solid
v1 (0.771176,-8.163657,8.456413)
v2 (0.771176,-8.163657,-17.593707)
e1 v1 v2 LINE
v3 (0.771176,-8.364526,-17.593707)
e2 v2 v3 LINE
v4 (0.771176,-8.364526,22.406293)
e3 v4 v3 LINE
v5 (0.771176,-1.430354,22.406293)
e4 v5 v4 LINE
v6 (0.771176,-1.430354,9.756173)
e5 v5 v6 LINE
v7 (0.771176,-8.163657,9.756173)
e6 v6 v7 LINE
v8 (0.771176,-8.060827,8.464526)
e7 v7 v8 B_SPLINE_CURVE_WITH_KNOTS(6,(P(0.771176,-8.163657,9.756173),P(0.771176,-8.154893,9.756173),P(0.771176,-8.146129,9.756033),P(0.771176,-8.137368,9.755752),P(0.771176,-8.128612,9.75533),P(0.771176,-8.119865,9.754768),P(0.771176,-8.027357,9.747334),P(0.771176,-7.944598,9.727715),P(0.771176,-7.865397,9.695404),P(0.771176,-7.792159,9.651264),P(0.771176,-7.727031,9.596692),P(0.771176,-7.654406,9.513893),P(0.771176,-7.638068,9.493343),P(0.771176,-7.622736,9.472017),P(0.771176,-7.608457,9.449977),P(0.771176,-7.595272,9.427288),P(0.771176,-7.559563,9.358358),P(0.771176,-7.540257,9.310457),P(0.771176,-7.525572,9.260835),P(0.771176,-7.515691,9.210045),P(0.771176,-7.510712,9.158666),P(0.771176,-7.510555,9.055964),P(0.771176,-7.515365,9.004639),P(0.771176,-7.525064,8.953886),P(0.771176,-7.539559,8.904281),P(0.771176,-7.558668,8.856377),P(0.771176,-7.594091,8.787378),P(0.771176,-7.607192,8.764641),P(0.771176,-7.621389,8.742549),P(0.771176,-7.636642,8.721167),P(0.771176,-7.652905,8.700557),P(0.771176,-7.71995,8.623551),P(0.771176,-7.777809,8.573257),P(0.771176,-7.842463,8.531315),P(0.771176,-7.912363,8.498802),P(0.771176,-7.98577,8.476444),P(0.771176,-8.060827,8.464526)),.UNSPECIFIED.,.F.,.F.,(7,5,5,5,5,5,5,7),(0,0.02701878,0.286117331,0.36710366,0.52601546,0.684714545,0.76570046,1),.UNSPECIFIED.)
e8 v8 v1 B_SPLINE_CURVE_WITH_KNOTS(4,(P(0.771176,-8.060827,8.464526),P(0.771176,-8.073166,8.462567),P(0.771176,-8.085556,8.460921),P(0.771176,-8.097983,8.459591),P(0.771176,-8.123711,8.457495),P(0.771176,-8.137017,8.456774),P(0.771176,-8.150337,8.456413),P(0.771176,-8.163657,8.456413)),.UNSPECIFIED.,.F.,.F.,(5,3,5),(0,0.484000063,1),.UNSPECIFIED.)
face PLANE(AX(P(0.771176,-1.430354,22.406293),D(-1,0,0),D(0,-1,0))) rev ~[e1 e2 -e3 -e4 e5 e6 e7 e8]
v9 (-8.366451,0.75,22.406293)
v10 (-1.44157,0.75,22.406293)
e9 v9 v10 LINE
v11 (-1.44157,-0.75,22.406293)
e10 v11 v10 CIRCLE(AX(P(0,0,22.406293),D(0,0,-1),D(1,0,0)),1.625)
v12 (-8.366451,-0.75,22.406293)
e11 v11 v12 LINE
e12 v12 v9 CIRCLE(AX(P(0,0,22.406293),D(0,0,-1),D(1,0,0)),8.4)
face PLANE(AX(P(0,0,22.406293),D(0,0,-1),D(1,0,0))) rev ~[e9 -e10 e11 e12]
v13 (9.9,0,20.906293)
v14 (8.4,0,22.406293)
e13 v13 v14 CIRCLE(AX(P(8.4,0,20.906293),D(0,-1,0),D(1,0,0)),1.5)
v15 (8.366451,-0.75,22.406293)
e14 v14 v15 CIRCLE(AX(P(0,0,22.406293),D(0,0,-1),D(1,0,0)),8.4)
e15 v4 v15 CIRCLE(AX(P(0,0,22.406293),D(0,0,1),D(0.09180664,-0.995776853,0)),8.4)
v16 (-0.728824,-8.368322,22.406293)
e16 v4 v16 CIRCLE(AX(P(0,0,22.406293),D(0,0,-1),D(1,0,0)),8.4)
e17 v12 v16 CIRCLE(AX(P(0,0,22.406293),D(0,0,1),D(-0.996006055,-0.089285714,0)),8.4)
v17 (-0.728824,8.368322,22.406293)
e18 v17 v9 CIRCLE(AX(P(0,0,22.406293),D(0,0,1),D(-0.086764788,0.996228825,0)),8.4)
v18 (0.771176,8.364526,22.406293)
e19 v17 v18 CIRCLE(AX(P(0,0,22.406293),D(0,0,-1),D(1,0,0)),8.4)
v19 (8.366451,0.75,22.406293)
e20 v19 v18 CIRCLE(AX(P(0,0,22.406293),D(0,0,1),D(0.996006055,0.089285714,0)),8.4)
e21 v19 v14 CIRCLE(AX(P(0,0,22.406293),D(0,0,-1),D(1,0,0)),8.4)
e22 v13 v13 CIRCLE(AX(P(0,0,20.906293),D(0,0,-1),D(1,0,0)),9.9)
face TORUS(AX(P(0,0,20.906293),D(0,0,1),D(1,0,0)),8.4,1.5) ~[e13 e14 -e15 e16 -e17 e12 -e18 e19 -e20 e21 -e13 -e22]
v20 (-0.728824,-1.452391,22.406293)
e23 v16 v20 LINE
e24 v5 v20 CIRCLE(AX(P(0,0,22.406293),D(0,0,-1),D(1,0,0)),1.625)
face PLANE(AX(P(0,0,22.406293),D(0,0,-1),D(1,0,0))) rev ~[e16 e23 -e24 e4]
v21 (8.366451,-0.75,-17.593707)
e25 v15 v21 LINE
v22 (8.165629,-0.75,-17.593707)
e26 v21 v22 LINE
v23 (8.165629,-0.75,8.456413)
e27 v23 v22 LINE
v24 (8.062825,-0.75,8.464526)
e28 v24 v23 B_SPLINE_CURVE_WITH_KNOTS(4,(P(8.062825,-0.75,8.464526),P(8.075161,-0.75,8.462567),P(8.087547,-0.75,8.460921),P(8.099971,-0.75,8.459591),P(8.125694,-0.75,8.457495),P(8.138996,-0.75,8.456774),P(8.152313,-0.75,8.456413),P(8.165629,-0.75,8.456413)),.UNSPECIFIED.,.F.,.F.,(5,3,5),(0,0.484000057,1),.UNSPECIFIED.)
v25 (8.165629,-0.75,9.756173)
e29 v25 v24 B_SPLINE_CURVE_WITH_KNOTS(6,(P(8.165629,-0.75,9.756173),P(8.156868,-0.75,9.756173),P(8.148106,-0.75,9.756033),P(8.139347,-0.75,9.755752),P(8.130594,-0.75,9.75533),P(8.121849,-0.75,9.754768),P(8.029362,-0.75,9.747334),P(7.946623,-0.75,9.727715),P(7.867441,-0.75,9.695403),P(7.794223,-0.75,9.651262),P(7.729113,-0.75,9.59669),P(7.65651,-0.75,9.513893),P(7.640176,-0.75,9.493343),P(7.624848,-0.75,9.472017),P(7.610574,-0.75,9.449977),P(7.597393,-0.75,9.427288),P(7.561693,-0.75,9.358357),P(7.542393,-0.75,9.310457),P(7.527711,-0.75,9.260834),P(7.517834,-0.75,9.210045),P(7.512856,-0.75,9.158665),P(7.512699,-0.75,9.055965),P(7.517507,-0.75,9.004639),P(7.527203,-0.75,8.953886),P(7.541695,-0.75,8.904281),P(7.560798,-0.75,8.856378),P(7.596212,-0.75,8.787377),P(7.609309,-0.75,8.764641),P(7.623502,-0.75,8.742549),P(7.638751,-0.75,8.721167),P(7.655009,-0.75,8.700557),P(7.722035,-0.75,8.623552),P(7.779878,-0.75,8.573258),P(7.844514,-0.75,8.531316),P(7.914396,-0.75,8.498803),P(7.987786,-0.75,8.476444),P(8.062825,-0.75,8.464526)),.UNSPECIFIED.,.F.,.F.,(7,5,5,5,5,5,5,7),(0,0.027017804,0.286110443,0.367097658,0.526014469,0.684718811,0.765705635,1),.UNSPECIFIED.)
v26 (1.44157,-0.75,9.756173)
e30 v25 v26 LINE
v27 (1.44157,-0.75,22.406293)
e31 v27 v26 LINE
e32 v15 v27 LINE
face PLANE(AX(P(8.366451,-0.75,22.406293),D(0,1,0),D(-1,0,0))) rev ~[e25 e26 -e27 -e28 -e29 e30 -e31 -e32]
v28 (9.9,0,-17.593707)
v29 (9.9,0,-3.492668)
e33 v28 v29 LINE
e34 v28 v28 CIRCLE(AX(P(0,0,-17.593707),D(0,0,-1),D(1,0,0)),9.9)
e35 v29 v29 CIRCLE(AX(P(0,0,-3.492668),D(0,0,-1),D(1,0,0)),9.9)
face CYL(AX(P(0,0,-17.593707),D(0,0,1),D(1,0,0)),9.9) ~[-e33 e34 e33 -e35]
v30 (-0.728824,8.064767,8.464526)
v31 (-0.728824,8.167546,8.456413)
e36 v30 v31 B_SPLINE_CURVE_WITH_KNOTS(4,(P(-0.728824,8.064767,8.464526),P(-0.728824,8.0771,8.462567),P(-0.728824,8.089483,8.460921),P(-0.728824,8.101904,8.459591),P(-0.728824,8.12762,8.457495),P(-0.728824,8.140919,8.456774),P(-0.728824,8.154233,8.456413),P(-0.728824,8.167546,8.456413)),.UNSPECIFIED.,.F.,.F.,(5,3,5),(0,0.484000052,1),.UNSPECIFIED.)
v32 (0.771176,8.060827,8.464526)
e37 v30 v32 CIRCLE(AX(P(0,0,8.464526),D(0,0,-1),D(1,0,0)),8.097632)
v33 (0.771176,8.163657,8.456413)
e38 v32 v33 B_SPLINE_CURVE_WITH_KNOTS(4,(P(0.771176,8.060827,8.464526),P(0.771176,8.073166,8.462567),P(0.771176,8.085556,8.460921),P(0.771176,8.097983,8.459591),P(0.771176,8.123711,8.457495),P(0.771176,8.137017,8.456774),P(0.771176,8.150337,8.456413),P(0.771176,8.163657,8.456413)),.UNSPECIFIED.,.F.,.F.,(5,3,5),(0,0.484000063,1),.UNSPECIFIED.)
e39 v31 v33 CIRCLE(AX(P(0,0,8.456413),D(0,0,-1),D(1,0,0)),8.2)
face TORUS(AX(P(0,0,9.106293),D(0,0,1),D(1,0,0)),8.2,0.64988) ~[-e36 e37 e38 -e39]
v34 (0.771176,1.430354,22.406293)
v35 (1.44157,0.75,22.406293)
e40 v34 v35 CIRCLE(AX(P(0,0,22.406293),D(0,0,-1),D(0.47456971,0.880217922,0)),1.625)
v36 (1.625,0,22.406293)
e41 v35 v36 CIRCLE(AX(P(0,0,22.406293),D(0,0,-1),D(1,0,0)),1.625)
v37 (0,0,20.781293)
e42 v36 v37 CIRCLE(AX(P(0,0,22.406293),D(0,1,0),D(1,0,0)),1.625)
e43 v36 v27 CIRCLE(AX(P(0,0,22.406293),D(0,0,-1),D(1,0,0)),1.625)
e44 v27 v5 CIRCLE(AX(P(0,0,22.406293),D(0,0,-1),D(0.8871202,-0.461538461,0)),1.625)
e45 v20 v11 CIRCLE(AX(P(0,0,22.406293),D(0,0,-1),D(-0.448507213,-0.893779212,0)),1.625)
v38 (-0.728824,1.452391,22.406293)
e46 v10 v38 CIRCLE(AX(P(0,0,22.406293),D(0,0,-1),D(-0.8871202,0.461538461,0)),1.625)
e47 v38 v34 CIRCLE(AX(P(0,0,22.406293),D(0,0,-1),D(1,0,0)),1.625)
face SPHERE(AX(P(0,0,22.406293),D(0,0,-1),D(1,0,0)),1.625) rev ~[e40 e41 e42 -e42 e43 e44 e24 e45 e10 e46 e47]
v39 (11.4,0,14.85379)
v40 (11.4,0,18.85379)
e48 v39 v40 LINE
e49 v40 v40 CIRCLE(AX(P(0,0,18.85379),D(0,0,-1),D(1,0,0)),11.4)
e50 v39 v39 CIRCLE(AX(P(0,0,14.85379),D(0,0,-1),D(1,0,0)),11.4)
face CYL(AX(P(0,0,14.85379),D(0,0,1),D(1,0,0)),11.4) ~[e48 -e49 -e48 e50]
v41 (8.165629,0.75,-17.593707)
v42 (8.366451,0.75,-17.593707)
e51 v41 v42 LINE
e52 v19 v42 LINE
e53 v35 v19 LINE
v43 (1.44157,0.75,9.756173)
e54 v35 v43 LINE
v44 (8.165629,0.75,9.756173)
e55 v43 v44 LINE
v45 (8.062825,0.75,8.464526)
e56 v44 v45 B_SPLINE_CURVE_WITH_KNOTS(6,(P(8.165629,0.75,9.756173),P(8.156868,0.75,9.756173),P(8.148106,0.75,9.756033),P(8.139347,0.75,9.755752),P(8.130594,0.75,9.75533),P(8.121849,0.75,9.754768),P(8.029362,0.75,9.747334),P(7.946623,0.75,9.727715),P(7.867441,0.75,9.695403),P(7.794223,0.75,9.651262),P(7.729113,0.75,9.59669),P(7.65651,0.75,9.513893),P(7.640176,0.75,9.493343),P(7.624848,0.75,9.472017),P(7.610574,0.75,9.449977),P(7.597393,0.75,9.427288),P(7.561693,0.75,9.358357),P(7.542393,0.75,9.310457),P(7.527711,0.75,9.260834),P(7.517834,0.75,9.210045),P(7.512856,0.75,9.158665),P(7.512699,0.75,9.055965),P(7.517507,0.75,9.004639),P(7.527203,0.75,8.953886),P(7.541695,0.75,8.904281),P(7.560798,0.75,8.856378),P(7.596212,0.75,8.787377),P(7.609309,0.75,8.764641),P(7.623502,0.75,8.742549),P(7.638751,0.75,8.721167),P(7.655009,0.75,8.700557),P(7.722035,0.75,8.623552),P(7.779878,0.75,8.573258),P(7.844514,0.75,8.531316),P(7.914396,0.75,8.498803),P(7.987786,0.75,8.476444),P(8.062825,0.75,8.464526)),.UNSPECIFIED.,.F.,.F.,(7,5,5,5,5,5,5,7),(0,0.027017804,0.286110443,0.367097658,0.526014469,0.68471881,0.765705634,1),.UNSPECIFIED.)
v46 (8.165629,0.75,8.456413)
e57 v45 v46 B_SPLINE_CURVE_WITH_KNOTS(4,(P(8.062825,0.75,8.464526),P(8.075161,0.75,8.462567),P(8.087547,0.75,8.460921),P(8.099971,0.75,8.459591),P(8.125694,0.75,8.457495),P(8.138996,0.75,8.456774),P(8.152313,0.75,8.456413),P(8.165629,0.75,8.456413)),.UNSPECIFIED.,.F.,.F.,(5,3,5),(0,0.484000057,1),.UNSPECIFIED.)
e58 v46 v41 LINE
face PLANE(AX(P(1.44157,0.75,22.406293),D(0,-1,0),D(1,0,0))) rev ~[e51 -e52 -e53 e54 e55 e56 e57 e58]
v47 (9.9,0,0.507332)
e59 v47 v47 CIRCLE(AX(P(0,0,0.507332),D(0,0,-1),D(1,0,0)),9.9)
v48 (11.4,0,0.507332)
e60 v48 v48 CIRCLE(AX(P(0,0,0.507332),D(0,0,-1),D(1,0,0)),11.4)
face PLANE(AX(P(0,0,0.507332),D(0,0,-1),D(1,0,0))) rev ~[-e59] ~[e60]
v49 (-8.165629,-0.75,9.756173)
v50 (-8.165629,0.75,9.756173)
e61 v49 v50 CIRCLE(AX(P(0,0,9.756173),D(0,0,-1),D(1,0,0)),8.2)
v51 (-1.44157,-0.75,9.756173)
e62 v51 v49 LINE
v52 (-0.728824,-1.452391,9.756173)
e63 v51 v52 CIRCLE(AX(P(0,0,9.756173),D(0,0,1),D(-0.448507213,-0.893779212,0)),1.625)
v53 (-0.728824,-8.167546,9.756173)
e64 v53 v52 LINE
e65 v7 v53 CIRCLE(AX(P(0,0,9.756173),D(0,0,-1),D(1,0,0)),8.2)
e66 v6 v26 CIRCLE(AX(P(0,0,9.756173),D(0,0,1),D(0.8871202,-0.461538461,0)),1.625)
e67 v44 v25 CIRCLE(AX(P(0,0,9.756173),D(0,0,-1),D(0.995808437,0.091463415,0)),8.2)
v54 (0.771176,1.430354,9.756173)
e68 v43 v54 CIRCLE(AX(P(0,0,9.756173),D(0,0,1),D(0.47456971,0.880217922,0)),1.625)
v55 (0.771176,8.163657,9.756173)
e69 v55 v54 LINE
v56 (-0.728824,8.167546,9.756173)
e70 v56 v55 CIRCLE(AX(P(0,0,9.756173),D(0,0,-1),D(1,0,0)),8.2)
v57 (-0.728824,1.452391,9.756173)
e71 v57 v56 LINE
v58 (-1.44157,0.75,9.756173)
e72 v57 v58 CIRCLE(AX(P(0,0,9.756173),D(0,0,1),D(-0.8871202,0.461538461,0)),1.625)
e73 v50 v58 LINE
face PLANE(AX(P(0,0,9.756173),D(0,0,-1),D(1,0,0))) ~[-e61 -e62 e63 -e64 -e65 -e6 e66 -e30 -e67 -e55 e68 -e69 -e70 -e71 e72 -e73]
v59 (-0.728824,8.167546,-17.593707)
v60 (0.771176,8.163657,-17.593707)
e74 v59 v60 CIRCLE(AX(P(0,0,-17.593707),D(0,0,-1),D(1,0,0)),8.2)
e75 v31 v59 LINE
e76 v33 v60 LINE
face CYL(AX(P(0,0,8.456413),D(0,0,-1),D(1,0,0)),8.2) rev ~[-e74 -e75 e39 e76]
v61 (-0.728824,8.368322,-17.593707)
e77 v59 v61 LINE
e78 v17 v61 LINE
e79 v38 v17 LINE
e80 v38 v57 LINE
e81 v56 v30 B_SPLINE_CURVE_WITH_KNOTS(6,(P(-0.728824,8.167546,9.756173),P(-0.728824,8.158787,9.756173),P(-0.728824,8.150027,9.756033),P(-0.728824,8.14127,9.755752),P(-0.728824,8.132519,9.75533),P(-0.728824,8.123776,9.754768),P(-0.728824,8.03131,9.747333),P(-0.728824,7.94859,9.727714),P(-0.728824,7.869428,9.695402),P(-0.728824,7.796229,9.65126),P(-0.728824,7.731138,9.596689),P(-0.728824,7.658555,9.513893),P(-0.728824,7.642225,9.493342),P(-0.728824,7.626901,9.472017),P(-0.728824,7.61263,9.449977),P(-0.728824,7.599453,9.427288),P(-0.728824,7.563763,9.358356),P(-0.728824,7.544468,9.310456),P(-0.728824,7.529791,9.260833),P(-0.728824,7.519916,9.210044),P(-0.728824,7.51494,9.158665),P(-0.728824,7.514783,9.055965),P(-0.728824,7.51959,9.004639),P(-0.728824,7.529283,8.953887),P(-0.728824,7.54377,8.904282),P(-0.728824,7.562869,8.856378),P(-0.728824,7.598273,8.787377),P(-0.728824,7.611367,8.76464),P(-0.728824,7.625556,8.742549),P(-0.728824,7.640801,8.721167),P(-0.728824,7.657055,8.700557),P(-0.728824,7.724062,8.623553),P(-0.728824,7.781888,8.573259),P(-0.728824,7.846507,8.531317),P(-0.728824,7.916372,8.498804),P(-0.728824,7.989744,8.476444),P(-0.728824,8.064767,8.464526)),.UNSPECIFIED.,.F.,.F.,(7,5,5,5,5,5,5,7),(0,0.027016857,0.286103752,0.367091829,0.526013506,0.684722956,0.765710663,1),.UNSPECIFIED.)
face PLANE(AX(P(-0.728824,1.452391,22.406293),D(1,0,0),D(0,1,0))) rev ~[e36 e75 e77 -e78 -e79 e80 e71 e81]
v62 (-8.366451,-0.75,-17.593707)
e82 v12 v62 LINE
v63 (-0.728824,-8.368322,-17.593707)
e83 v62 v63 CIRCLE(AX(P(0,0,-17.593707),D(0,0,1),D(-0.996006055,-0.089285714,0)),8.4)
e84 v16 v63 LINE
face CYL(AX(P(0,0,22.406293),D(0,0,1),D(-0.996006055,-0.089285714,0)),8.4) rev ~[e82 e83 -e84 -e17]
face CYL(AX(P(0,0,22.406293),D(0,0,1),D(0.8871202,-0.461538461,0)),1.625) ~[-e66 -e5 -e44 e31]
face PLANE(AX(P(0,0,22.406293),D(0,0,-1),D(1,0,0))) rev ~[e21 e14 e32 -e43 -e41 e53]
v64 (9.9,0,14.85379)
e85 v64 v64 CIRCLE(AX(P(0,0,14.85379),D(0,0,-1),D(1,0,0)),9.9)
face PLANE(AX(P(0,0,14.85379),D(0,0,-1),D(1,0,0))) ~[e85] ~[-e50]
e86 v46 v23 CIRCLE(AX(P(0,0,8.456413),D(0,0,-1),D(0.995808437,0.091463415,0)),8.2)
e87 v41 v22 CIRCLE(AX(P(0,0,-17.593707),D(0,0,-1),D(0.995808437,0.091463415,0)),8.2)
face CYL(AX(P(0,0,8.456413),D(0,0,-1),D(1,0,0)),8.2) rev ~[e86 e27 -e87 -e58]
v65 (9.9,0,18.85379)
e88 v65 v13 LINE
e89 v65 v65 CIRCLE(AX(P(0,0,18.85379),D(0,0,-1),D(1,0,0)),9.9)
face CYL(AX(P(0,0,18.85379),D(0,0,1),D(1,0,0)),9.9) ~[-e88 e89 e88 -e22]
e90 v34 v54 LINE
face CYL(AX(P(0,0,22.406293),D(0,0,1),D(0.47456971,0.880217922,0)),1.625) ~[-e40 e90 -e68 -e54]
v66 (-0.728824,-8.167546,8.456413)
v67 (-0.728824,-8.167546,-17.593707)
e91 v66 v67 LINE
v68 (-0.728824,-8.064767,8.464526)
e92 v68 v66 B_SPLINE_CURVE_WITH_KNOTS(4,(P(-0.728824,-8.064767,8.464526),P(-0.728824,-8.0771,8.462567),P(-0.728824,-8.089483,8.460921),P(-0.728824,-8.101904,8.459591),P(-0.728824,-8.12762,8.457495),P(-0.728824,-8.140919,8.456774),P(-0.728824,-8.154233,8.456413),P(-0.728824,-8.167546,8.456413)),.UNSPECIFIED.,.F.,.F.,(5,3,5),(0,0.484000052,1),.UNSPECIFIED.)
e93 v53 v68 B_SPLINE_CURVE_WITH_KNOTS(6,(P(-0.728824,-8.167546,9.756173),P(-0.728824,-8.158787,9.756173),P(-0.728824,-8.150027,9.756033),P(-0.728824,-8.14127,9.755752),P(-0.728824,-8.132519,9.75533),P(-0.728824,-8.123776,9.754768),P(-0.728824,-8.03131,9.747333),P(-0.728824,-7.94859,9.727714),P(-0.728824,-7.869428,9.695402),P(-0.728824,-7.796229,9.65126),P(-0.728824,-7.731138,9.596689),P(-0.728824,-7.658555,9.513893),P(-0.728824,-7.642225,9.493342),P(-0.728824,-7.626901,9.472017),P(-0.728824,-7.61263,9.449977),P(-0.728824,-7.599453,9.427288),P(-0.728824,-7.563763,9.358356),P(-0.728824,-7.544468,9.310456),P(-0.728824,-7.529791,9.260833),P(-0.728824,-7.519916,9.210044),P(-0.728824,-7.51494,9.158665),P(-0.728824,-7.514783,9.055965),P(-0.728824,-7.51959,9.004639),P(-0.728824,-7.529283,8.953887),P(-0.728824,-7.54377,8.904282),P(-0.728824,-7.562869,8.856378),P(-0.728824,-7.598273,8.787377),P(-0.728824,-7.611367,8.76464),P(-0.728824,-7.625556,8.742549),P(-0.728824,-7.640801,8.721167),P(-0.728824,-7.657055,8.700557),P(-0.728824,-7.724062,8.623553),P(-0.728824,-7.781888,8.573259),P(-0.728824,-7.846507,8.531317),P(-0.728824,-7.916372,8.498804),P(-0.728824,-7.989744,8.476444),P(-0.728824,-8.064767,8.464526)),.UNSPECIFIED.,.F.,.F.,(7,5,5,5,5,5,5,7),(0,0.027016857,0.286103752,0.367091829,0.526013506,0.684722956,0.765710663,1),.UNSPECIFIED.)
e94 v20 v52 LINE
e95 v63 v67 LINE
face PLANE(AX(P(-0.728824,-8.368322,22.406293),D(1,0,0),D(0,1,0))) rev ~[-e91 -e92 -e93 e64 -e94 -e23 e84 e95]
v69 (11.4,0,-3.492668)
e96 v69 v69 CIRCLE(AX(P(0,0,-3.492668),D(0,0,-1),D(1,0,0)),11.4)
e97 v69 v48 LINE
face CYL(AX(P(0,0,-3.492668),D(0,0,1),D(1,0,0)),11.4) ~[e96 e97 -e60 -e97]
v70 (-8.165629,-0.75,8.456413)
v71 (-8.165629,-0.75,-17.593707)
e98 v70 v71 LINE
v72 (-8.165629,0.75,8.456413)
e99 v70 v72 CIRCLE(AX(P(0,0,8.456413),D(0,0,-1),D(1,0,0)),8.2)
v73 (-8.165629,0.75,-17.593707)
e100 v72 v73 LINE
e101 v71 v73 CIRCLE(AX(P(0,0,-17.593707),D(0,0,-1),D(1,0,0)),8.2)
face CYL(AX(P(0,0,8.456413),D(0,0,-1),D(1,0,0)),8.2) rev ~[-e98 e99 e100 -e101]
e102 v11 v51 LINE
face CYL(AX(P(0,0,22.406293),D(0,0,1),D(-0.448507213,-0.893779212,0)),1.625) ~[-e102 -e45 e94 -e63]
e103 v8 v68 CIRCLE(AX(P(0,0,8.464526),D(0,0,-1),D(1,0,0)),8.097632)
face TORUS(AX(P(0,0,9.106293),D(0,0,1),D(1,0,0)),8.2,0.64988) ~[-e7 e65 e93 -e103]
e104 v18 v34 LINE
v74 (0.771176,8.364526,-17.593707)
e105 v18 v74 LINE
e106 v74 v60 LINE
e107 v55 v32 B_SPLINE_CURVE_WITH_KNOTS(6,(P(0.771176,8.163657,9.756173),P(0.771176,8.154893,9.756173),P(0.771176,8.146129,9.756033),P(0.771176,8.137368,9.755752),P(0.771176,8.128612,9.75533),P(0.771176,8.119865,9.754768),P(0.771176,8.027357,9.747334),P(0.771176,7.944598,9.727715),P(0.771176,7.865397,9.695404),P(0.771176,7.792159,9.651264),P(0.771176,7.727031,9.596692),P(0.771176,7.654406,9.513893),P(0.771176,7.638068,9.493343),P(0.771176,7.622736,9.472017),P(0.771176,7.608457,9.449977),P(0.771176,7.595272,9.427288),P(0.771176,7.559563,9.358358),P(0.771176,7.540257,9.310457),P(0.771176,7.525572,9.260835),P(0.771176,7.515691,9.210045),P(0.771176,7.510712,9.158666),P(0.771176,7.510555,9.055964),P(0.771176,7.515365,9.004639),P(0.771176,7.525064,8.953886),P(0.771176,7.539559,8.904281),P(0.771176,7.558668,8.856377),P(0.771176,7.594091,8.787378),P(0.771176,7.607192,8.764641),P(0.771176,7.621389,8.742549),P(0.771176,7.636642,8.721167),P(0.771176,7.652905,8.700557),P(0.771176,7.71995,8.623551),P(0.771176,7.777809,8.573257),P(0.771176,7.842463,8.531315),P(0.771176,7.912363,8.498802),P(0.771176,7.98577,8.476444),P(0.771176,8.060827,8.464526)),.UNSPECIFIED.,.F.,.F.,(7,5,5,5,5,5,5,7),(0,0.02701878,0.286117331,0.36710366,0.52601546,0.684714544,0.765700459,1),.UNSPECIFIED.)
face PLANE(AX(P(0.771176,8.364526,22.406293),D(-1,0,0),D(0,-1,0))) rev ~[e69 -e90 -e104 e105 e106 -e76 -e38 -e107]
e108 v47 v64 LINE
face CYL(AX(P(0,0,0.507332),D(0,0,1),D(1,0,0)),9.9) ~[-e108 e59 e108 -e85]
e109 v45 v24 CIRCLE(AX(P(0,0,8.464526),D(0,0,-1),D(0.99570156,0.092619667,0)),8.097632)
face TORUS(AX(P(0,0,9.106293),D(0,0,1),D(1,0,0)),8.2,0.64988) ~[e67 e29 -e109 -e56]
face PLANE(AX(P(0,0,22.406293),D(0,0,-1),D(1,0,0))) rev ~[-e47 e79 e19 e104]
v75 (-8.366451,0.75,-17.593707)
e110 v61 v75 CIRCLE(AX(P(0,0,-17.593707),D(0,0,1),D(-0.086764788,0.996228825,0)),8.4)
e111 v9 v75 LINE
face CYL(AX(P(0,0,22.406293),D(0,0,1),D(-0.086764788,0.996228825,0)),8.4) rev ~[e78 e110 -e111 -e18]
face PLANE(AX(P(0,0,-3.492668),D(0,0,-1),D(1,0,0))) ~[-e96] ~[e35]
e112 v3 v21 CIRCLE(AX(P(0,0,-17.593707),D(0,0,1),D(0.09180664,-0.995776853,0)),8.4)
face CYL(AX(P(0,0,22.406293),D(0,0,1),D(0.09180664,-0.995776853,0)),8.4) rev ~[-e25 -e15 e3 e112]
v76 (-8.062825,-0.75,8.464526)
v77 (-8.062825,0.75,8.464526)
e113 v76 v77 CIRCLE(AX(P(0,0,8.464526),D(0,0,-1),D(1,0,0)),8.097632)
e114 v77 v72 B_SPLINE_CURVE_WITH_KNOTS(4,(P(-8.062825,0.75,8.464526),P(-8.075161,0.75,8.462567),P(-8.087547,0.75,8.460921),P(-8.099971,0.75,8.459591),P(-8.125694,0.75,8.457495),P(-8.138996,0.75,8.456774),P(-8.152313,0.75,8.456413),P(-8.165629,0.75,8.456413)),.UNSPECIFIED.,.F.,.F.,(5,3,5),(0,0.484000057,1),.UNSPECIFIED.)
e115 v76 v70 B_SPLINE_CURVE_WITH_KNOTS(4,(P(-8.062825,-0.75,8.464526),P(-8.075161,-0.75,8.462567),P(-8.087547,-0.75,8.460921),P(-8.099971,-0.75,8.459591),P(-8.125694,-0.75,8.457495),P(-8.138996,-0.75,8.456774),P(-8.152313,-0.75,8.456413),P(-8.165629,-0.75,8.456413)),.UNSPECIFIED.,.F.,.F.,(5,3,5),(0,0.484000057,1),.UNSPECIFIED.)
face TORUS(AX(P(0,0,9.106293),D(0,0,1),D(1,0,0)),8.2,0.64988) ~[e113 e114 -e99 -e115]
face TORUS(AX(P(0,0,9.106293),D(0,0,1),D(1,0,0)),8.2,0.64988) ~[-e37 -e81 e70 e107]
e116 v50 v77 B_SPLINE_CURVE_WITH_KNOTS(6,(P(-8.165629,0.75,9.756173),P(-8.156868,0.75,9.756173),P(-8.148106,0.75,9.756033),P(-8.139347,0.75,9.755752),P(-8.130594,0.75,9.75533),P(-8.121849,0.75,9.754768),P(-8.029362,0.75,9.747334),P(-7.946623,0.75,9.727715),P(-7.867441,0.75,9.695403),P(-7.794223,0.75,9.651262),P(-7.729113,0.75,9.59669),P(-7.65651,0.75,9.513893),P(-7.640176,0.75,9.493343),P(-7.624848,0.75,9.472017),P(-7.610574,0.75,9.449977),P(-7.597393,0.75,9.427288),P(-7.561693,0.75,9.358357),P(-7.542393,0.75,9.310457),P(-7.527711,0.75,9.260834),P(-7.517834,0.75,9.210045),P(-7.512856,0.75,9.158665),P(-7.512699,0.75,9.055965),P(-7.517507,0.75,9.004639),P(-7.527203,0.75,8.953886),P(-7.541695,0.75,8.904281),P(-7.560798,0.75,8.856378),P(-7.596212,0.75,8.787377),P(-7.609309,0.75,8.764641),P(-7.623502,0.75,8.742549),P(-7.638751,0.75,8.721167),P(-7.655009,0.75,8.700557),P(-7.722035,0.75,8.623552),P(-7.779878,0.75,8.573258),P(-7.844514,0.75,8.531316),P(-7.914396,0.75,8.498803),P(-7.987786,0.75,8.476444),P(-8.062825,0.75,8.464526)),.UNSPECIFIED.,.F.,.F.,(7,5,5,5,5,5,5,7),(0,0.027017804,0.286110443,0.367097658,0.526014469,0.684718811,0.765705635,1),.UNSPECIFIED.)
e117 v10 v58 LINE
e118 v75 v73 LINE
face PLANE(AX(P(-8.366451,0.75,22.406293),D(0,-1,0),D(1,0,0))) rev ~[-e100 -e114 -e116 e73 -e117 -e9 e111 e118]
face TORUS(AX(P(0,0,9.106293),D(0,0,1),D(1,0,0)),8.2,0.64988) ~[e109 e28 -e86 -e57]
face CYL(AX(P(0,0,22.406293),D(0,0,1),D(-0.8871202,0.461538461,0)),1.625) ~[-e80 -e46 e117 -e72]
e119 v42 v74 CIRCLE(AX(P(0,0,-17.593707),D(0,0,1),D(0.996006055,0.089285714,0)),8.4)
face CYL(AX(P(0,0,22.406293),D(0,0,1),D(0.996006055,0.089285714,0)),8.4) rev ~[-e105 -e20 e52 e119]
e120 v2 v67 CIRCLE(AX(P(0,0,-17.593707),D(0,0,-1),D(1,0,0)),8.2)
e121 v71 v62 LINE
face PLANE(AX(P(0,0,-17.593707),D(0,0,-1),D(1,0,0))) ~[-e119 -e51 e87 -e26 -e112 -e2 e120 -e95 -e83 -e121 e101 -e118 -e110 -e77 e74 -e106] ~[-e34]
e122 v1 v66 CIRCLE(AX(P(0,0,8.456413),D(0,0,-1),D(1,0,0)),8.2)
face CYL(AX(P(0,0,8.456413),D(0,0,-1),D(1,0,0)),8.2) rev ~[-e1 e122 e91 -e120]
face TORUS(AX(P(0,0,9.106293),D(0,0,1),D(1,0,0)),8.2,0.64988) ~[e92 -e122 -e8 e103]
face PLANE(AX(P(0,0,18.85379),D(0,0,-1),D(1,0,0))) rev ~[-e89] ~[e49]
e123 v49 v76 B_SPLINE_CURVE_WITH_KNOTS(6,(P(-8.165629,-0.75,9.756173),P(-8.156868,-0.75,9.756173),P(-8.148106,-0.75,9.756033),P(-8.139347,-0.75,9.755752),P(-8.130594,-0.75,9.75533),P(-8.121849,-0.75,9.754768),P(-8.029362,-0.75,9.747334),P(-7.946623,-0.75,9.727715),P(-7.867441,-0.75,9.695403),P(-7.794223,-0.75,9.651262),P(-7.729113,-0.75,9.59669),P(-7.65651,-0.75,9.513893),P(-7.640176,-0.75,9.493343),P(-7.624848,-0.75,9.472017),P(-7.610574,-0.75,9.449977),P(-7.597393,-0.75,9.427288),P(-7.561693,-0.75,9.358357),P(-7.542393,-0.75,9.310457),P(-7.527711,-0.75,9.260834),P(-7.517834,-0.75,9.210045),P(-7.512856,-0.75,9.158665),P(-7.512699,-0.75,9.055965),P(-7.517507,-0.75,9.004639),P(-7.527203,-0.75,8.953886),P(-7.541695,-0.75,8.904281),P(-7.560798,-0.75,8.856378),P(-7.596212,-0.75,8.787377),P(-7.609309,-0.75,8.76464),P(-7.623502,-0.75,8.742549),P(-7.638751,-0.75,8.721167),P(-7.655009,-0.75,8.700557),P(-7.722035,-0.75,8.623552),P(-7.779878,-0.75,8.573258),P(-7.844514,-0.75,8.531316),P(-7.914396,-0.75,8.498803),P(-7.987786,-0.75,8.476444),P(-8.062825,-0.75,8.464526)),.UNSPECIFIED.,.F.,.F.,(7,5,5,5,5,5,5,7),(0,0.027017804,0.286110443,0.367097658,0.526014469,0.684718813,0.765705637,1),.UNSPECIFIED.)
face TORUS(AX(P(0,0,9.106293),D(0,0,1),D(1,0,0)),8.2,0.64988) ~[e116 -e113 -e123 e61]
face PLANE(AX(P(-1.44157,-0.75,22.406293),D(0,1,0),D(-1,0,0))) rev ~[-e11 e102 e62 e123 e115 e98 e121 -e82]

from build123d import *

# Parameters (mm, degrees)
F0_W     = 8.2
F0_H     = 10.1501198854
F3_DEPTH = 40.001


with BuildPart() as f1:
    # F0 (on Front) → F1 (revolve)
    with BuildSketch(Plane.XZ):
        with BuildLine():
            Line((0, 20.7812930996), (0, 19.9062930996))
            Line((0, 19.9062930996), (8.2, 19.9062930996))
            Line((8.2, 19.9062930996), (8.2, 9.7561732142))
            ThreePointArc((8.2, 9.7561732142), (7.5521513161, 9.157637487), (8.0976322153, 8.4645260079))
            ThreePointArc((8.0976322153, 8.4645260079), (8.1486556126, 8.4584444157), (8.2, 8.456412985))
            Line((8.2, 8.456412985), (8.2, 8.4481973997))
            Line((8.2, 8.4481973997), (8.2, -17.5937069004))
            Line((8.2, -17.5937069004), (9.9, -17.5937069004))
            Line((9.9, -17.5937069004), (9.9, -3.4926675876))
            Line((9.9, -3.4926675876), (11.4, -3.4926675876))
            Line((11.4, -3.4926675876), (11.4, 0.5073324124))
            Line((11.4, 0.5073324124), (9.9, 0.5073324124))
            Line((9.9, 0.5073324124), (9.9, 14.8537900239))
            Line((9.9, 14.8537900239), (11.4, 14.8537900239))
            Line((11.4, 14.8537900239), (11.4, 18.8537900239))
            Line((11.4, 18.8537900239), (9.9, 18.8537900239))
            Line((9.9, 18.8537900239), (9.9, 20.9062930996))
            ThreePointArc((9.9, 20.9062930996), (9.4606601718, 21.9669532714), (8.4, 22.4062930996))
            Line((8.4, 22.4062930996), (1.625, 22.4062930996))
            ThreePointArc((1.625, 22.4062930996), (1.1490485194, 21.2572445802), (0, 20.7812930996))
        make_face()
        with Locations((4.1, 14.8312331569)):
            Rectangle(F0_W, F0_H)
    revolve(axis=Axis((0, 0, 1.5937930996), (0, 0, -1)))

    # F2 (on face) → F3 (cut, through all)
    with BuildSketch(Plane.XY.offset(22.4062930996)):
        with BuildLine():
            Line((-0.7288242211, 1.4523912196), (-0.7288242211, 8.368322129))
            ThreePointArc((-0.7288242211, 8.368322129), (-5.9321762632, 5.9472081503), (-8.3664508604, 0.75))
            Line((-8.3664508604, 0.75), (-1.4415703243, 0.75))
            ThreePointArc((-1.4415703243, 0.75), (-1.1406101337, 1.1574253855), (-0.7288242211, 1.4523912196))
        make_face()
        with BuildLine():
            Line((-1.4415703243, -0.75), (-8.3664508604, -0.75))
            ThreePointArc((-8.3664508604, -0.75), (-5.9321762632, -5.9472081503), (-0.7288242211, -8.368322129))
            Line((-0.7288242211, -8.368322129), (-0.7288242211, -1.4523912196))
            ThreePointArc((-0.7288242211, -1.4523912196), (-1.1406101337, -1.1574253855), (-1.4415703243, -0.75))
        make_face()
        with BuildLine():
            ThreePointArc((0.7711757789, -8.3645255644), (5.9472098536, -5.9321745555), (8.3664508604, -0.75))
            Line((8.3664508604, -0.75), (1.4415703243, -0.75))
            ThreePointArc((1.4415703243, -0.75), (1.1574894223, -1.1405451492), (0.7711757789, -1.4303541233))
            Line((0.7711757789, -1.4303541233), (0.7711757789, -8.3645255644))
        make_face()
        with BuildLine():
            ThreePointArc((8.3664508604, 0.75), (5.9472098536, 5.9321745555), (0.7711757789, 8.3645255644))
            Line((0.7711757789, 8.3645255644), (0.7711757789, 1.4303541233))
            ThreePointArc((0.7711757789, 1.4303541233), (1.1574894223, 1.1405451492), (1.4415703243, 0.75))
            Line((1.4415703243, 0.75), (8.3664508604, 0.75))
        make_face()
    extrude(amount=-F3_DEPTH, mode=Mode.SUBTRACT)


solid = f1.part
